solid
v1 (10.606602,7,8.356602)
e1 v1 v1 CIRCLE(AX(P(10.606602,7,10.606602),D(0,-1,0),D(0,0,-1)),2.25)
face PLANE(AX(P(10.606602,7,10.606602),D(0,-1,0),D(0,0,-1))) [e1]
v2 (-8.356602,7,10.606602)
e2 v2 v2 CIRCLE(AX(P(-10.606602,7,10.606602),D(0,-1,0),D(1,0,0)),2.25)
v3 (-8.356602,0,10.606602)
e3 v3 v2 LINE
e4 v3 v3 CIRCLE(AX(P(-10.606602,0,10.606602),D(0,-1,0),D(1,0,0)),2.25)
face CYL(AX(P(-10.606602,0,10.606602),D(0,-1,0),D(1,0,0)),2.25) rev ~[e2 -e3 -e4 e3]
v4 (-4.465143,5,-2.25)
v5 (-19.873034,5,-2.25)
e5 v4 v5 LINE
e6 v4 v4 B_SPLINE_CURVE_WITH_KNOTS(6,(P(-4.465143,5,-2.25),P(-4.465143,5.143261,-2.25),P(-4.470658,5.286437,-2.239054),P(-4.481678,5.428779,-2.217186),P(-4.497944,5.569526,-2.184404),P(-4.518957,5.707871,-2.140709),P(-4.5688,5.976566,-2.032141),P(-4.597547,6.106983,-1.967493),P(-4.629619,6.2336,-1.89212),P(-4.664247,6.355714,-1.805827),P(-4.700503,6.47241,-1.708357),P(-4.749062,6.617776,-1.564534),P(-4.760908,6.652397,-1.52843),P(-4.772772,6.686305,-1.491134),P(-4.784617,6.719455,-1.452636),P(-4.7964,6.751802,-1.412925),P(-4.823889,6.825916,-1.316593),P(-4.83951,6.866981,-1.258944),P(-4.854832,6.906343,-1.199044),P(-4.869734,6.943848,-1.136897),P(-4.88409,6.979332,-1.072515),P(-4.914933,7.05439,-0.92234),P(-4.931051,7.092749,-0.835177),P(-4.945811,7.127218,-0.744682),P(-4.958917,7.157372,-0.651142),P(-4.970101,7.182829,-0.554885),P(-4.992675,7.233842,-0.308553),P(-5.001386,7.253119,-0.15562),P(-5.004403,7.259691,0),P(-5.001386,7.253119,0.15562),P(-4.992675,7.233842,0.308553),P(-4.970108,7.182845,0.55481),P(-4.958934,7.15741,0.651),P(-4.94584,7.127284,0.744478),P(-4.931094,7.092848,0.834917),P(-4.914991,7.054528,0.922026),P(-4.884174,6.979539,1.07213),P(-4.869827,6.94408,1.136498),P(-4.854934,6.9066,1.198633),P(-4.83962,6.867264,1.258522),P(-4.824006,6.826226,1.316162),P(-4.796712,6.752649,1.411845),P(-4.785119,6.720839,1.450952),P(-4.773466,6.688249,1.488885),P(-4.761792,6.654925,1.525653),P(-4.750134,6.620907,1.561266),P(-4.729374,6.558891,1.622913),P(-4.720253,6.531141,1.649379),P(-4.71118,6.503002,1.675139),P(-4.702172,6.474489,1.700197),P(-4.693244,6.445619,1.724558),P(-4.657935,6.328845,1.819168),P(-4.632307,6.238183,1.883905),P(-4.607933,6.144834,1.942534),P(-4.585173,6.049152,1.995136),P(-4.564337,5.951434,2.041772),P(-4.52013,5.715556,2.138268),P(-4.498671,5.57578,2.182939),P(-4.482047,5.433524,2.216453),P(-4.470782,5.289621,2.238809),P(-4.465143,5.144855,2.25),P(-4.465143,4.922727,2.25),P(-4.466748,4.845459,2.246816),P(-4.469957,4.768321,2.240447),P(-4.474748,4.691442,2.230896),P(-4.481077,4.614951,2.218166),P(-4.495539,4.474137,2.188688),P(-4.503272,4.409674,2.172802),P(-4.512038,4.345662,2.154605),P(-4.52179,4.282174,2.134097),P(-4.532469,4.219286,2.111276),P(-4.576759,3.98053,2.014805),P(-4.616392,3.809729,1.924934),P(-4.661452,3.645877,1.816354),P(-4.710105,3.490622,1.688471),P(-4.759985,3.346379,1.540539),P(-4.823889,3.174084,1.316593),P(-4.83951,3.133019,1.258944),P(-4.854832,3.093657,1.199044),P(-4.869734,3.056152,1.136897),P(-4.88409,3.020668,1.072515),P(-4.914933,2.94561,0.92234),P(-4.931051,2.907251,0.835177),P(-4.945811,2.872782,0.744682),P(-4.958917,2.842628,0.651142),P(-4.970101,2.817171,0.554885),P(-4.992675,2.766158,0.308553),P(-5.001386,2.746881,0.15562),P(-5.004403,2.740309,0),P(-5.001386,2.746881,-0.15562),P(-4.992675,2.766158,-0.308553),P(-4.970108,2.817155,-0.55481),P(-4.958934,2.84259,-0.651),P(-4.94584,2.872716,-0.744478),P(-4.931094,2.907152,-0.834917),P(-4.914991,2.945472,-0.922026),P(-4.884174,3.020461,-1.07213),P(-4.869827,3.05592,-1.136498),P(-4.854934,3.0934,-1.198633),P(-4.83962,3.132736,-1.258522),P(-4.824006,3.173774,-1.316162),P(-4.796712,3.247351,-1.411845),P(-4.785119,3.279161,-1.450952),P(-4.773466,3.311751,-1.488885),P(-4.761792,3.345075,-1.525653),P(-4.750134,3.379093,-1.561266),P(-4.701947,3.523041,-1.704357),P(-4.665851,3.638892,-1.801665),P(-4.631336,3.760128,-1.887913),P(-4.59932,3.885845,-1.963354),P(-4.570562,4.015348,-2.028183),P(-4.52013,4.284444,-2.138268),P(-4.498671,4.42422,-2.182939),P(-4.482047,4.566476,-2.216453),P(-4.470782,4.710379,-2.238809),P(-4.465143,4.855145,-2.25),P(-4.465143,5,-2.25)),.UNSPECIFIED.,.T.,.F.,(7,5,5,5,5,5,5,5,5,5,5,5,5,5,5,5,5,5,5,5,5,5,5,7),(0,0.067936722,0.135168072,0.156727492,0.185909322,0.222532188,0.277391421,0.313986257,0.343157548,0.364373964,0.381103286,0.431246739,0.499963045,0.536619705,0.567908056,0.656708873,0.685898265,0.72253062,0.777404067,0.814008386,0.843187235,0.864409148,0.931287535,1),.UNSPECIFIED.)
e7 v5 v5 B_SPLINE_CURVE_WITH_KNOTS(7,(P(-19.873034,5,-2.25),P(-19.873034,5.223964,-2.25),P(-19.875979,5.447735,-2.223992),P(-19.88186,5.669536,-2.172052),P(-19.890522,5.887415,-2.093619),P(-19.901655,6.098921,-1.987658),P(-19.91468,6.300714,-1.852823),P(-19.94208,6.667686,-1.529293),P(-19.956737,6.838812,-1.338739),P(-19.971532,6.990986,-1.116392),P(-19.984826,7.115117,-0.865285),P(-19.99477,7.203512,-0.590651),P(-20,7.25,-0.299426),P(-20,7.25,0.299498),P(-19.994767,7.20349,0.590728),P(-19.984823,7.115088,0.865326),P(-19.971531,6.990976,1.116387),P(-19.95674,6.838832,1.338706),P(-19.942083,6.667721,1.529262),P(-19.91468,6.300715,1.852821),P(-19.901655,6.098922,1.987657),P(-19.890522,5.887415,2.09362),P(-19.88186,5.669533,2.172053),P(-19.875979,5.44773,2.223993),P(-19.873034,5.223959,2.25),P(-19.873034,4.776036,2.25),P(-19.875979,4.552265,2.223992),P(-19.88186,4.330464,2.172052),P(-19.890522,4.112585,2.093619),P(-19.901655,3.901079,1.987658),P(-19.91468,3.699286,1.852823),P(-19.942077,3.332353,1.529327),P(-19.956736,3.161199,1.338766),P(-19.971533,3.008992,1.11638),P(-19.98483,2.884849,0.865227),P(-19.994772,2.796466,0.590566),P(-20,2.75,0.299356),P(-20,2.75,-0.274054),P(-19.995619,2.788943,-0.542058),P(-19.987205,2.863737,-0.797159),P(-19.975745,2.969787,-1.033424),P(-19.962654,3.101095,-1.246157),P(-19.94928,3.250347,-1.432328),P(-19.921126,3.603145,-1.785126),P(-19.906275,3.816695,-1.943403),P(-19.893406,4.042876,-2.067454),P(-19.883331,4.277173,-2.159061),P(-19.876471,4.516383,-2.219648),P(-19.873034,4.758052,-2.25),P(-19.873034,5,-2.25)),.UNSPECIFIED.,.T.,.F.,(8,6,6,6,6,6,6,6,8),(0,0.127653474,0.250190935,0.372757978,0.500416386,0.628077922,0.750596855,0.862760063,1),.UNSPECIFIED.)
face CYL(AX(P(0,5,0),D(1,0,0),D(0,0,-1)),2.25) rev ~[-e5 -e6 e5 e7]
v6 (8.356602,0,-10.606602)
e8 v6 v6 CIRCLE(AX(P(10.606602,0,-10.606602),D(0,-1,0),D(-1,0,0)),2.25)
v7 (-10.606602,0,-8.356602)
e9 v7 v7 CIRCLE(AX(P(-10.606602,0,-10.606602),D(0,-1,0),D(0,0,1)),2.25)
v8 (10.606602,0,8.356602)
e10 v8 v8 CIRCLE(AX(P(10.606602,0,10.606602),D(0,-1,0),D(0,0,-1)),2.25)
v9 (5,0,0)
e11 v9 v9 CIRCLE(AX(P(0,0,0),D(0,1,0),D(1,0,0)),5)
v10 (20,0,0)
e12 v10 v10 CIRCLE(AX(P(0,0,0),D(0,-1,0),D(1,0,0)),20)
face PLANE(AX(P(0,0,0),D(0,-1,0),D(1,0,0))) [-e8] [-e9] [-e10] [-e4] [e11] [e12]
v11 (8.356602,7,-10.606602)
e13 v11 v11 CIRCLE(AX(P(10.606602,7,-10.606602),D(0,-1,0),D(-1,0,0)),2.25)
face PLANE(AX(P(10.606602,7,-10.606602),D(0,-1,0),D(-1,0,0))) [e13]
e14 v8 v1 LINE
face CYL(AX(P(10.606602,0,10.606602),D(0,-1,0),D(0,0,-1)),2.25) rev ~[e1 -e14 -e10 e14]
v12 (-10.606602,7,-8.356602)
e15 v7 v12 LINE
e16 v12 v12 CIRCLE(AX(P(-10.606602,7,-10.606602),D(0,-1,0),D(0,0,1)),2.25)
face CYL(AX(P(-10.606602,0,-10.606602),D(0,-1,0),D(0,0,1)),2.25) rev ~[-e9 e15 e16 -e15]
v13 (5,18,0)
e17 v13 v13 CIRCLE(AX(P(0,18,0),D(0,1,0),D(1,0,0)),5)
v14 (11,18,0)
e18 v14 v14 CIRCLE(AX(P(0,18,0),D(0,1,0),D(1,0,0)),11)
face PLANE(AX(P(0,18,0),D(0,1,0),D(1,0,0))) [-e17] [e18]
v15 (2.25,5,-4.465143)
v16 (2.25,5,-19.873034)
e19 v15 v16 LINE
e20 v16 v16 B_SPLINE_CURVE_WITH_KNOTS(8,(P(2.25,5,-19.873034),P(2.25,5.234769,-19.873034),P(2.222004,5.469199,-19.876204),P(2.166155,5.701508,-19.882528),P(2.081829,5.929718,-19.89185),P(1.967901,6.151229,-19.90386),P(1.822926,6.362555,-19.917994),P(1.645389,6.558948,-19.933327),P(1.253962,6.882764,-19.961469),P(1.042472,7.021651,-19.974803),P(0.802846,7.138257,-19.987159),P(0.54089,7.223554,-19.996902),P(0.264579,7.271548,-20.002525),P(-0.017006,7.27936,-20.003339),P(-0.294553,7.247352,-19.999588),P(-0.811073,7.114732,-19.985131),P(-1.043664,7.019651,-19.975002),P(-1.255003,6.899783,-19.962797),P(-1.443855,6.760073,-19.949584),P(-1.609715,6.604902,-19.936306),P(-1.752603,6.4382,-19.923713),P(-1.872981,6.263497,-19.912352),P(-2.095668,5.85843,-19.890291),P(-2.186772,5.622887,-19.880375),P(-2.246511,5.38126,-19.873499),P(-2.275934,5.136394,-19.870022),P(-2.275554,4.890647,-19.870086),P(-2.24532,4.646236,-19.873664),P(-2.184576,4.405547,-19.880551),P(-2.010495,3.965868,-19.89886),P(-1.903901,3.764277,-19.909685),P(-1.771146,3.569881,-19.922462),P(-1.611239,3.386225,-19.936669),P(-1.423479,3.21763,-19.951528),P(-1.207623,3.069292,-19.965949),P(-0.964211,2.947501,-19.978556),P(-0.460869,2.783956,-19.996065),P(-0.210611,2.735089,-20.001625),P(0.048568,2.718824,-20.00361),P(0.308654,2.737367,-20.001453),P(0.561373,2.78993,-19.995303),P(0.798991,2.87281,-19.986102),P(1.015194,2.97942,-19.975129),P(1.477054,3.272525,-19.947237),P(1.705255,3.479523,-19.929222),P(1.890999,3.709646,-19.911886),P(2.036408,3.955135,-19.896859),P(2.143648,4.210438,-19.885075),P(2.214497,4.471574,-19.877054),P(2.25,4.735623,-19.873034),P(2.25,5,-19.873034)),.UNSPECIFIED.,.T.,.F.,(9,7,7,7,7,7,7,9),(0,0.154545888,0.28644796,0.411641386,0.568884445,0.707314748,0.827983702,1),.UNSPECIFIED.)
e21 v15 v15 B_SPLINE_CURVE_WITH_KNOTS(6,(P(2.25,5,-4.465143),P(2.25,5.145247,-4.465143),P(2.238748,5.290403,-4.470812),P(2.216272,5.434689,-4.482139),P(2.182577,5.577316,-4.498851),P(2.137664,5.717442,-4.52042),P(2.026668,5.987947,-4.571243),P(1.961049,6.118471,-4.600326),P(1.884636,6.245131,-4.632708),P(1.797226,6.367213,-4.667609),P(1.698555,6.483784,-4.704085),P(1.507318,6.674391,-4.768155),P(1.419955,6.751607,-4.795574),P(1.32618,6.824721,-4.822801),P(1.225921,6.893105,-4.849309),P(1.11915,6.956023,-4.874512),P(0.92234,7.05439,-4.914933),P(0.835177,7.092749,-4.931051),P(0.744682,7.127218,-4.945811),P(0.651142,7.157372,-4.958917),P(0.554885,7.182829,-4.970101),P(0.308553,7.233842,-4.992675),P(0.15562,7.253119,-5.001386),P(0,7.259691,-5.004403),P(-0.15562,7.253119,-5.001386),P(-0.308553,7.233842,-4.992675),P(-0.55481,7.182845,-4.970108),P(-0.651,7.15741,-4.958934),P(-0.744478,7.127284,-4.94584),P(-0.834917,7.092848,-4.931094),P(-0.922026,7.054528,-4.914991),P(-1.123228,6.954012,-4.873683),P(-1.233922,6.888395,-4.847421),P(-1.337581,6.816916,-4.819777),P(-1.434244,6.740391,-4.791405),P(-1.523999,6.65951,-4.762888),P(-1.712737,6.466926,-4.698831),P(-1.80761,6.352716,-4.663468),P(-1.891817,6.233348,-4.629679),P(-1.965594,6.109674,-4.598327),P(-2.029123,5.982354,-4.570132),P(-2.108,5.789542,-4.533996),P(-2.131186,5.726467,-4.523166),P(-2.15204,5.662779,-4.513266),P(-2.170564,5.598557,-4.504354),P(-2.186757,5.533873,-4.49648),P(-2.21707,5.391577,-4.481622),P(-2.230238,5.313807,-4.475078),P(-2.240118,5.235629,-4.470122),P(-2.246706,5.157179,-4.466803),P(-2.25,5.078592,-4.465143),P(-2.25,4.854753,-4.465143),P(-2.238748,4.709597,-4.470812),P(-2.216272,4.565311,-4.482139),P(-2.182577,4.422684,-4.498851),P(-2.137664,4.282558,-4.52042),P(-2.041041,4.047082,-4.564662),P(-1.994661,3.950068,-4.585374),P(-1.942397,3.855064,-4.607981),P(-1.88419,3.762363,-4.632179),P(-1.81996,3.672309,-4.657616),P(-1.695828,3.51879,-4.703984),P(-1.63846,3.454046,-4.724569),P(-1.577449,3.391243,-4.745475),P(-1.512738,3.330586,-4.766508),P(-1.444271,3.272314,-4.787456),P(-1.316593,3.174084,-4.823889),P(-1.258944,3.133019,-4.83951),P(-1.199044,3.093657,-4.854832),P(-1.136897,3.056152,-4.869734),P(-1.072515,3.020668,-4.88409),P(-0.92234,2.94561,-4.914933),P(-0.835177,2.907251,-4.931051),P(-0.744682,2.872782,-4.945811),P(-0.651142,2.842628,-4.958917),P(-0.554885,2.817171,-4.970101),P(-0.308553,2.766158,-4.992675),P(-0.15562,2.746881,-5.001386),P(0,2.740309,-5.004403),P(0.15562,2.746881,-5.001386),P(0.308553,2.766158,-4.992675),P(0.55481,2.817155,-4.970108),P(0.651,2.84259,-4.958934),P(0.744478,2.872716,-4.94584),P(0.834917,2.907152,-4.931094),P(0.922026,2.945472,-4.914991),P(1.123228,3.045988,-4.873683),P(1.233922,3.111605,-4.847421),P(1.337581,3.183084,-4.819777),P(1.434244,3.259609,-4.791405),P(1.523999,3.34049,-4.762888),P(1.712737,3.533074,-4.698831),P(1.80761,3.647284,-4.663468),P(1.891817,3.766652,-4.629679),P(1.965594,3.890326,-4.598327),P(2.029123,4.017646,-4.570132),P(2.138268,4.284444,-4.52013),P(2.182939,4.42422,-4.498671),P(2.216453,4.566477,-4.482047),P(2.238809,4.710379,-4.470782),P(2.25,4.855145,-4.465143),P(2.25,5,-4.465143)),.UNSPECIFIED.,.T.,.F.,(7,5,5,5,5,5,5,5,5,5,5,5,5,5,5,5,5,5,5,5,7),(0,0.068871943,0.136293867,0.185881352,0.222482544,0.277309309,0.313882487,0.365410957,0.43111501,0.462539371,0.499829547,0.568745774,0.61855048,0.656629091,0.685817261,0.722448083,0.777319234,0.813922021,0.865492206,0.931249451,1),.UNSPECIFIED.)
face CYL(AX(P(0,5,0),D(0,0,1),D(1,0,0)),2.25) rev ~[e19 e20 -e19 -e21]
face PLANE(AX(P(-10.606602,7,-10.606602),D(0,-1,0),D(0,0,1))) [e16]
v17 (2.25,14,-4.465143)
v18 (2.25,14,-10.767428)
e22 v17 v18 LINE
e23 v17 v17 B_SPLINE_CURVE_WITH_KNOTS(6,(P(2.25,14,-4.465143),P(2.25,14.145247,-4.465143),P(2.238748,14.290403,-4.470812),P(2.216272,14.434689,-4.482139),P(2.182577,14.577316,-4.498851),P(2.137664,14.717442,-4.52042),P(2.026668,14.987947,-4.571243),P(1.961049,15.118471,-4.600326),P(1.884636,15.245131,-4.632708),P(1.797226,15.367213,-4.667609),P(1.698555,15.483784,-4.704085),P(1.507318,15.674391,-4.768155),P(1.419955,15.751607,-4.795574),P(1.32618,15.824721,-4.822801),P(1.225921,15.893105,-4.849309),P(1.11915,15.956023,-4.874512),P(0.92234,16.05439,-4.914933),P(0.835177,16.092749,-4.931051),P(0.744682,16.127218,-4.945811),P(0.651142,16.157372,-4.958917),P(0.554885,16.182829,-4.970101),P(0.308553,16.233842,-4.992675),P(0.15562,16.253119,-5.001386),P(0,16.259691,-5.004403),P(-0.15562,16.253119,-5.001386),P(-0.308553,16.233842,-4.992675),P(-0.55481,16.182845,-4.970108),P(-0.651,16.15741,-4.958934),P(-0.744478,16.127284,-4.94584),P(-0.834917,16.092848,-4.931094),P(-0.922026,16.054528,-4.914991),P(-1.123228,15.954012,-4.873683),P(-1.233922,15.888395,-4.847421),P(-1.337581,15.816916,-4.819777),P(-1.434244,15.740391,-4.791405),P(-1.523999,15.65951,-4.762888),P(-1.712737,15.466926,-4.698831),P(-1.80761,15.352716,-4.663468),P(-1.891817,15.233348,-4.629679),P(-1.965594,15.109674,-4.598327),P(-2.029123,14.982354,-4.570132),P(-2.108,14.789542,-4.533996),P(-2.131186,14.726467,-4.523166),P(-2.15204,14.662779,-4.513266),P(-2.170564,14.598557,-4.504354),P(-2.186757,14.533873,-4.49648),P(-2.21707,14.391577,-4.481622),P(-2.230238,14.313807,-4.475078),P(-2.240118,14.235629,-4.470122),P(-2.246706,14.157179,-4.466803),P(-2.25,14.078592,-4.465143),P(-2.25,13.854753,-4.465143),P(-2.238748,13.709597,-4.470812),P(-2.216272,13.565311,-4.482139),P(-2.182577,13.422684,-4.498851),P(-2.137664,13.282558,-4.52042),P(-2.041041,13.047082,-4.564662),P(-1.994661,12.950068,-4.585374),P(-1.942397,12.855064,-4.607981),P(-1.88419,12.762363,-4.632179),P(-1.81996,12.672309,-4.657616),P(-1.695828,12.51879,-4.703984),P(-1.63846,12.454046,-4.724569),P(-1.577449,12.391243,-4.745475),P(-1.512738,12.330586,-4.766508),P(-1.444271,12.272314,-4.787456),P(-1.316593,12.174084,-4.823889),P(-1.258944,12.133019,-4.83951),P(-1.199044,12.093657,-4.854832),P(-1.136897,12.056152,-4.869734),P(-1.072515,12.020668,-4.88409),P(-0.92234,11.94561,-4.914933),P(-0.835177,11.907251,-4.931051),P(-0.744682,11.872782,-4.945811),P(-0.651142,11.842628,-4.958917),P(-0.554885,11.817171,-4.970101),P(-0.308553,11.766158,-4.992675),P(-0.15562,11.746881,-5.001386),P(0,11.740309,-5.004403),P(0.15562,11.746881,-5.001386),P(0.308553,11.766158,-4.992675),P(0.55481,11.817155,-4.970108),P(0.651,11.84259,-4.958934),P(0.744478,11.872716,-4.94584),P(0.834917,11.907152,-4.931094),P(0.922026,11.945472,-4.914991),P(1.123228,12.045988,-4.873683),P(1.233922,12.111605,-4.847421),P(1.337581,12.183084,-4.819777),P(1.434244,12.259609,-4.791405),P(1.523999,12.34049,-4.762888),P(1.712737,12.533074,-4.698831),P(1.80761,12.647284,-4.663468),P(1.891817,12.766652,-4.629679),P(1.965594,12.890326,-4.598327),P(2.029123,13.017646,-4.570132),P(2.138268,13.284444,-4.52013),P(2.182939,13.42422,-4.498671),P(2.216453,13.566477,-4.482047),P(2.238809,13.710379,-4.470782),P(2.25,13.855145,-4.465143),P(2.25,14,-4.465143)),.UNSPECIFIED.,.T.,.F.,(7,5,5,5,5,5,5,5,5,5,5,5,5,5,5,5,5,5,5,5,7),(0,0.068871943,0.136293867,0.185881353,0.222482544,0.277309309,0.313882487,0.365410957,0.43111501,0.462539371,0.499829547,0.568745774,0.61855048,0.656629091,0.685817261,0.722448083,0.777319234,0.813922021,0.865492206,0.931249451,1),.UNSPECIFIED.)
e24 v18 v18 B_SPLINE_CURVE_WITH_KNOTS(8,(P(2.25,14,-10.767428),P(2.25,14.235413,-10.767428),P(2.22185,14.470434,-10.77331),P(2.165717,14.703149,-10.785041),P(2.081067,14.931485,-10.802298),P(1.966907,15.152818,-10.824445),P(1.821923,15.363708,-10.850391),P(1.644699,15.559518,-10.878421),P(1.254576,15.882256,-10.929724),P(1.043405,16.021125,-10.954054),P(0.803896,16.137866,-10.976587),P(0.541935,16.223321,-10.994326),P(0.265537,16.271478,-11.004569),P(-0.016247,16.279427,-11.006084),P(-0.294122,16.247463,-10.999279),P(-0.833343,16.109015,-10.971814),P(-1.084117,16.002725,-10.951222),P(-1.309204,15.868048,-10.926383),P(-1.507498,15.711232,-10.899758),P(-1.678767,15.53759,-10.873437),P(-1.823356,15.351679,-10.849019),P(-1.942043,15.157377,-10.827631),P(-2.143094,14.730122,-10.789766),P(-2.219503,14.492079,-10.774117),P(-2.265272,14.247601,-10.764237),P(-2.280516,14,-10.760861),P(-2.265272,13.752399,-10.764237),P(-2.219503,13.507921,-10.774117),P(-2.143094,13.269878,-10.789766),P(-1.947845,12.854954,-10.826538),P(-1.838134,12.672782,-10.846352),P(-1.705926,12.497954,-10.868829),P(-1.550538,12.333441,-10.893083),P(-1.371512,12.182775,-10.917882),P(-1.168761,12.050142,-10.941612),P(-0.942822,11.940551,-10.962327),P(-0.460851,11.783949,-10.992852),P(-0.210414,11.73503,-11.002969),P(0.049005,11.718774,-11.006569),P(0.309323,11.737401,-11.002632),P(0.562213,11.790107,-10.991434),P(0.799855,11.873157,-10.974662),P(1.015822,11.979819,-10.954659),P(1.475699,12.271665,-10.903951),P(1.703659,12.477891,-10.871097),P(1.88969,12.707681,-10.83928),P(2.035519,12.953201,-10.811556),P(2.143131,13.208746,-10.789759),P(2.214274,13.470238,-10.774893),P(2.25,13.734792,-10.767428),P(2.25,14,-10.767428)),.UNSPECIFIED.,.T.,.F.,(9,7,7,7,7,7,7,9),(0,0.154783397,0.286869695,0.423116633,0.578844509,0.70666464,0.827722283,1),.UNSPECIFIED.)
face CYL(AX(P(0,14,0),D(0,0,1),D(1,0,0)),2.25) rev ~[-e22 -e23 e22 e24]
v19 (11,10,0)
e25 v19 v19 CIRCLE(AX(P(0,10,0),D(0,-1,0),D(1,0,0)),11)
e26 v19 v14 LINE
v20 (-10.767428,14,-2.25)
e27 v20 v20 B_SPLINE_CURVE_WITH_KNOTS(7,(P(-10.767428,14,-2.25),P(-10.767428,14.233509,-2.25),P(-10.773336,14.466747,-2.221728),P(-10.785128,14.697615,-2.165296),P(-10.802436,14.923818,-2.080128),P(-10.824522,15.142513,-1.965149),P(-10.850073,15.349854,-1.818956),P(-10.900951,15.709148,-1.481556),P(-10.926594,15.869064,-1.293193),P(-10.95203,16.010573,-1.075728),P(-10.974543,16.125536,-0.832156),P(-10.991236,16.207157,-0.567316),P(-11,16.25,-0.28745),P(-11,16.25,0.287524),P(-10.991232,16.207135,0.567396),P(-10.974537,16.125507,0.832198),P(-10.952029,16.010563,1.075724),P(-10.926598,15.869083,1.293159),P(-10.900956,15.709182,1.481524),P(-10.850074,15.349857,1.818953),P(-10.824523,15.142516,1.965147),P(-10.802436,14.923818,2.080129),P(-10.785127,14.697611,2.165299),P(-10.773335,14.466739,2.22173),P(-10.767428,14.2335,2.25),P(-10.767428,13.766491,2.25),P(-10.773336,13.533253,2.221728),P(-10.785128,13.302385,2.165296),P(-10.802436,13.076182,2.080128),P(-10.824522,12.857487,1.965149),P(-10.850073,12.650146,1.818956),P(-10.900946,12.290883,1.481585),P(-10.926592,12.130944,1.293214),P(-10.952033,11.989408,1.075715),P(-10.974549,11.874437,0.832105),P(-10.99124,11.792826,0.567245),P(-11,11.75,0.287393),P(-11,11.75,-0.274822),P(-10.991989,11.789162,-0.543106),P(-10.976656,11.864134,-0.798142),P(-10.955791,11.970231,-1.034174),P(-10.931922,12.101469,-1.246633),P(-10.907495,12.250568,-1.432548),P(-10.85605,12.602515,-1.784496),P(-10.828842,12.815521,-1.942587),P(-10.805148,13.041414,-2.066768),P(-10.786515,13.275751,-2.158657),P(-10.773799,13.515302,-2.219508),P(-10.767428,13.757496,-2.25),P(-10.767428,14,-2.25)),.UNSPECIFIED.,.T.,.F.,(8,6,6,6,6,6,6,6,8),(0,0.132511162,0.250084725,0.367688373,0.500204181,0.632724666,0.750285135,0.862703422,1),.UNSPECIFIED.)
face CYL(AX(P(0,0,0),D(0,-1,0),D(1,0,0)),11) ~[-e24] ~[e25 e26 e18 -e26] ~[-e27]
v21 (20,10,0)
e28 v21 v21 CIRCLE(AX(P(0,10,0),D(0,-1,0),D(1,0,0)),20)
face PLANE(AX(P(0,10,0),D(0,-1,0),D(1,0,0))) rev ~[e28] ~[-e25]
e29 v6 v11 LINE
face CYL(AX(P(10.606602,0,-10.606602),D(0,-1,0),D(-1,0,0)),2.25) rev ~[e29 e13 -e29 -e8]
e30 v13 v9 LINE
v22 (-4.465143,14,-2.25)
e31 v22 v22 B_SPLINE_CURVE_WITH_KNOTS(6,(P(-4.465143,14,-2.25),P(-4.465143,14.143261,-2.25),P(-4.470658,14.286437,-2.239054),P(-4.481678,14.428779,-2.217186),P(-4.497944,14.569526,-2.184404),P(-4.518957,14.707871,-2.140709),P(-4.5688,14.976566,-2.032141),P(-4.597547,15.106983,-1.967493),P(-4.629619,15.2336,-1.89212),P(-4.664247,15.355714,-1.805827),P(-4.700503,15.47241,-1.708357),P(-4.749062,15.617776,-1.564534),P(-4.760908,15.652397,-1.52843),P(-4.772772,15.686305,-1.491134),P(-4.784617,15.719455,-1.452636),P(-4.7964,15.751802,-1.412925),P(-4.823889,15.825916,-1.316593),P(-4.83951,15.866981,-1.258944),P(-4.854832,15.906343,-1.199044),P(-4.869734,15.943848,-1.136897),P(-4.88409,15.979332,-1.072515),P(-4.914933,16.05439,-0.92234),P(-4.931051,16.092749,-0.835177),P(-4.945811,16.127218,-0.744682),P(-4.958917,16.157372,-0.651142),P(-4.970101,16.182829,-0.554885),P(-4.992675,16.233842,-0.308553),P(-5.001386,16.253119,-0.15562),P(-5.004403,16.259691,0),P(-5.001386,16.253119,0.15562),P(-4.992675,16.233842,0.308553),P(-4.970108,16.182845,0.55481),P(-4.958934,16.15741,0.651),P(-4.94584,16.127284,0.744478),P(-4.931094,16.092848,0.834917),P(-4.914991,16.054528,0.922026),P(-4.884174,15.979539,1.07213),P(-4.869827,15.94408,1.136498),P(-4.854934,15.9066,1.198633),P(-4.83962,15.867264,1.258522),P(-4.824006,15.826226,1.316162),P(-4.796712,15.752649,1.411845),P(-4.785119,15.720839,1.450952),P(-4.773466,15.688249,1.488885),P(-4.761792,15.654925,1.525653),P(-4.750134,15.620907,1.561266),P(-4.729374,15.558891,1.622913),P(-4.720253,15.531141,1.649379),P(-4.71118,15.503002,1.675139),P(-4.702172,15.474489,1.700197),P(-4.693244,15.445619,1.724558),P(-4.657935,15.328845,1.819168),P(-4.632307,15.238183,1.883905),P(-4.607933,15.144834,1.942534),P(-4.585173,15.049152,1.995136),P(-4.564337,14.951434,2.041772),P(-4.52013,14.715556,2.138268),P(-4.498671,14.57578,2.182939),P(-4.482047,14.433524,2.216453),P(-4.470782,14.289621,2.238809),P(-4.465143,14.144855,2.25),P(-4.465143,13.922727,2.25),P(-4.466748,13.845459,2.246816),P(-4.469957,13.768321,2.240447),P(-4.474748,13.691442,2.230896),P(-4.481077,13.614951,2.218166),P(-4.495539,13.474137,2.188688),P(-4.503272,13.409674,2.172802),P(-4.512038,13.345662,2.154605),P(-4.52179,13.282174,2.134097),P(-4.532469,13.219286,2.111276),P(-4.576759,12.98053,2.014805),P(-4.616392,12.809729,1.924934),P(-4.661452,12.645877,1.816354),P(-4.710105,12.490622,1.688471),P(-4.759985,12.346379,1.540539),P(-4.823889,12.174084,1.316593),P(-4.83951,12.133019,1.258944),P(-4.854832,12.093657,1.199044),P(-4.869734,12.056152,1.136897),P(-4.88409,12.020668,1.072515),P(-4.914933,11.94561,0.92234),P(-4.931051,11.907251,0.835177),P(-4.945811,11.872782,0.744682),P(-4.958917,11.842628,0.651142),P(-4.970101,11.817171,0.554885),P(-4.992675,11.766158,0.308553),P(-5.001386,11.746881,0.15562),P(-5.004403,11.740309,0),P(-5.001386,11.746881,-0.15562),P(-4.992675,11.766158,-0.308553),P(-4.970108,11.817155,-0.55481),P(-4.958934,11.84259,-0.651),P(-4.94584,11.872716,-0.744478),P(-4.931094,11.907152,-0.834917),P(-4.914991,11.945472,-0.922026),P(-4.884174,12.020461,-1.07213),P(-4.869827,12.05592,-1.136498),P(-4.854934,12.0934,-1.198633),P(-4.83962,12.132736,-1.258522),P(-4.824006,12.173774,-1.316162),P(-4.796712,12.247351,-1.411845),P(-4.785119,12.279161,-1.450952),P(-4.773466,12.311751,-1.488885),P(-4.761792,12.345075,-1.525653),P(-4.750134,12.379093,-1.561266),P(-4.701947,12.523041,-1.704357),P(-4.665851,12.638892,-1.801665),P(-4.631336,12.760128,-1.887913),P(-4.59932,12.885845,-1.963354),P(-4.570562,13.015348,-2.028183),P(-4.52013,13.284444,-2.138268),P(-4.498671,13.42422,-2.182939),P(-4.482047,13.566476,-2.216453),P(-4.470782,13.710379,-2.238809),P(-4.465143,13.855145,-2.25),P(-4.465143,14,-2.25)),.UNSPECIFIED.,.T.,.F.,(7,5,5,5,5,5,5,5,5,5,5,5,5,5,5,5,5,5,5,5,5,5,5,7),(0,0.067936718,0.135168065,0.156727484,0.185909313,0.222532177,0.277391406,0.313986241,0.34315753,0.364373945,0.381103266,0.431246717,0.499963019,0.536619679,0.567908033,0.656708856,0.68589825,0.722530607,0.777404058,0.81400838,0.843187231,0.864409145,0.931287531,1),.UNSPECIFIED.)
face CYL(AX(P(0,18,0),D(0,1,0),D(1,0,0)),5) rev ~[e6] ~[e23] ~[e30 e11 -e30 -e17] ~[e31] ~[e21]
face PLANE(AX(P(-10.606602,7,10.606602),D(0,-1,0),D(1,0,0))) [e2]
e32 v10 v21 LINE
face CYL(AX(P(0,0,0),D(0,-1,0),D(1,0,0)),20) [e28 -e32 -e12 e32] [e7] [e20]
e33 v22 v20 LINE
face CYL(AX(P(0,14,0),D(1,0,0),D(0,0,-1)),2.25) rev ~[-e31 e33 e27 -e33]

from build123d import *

# Parameters (mm, degrees)
SKETCH1_R               = 11
BOSS_EXTRUDE1_DEPTH     = 18
SKETCH2_R               = 20
BOSS_EXTRUDE2_DEPTH     = 10
SKETCH3_R               = 5
CUT_EXTRUDE1_DEPTH      = 1
CUT_EXTRUDE1_DEPTH_BACK = 19
SKETCH4_R               = 2.25
CUT_EXTRUDE2_DEPTH      = 7
CIRPATTERN1_COUNT       = 4
SKETCH5_R               = 2.25
CUT_EXTRUDE3_DEPTH      = 21
CIRPATTERN2_COUNT       = 2
CIRPATTERN2_ANGLE       = 90


with BuildPart() as part:
    # Sketch1 → Boss-Extrude1 (new body)
    with BuildSketch(Plane(origin=(0, 0, 0), x_dir=(1, 0, 0), z_dir=(0, 1, 0))):
        Circle(SKETCH1_R)
    extrude(amount=BOSS_EXTRUDE1_DEPTH)

    # Sketch2 → Boss-Extrude2 (add)
    with BuildSketch(Plane.XZ):
        Circle(SKETCH2_R)
    extrude(amount=-BOSS_EXTRUDE2_DEPTH)

    # Sketch3 → Cut-Extrude1 (cut, two sides)
    with BuildSketch(Plane(origin=(0, 18, 0), x_dir=(1, 0, 0), z_dir=(0, 1, 0))) as cut_extrude1_sk:
        Circle(SKETCH3_R)
    extrude(amount=CUT_EXTRUDE1_DEPTH, mode=Mode.SUBTRACT)
    extrude(cut_extrude1_sk.sketch, amount=-CUT_EXTRUDE1_DEPTH_BACK, mode=Mode.SUBTRACT)

    # Sketch4 → Cut-Extrude2 (cut)
    with BuildSketch(Plane.XZ):
        with Locations((-10.606601718, 10.606601718)):
            Circle(SKETCH4_R)
    cut_extrude2 = extrude(amount=-CUT_EXTRUDE2_DEPTH, mode=Mode.SUBTRACT)

    # CirPattern1: Cut-Extrude2 ×4 about axis
    cirpattern1_axis = Axis((0, 0, 0), (0, 1, 0))
    for i in range(1, CIRPATTERN1_COUNT):
        add(cut_extrude2.rotate(cirpattern1_axis, i * 360 / CIRPATTERN1_COUNT), mode=Mode.SUBTRACT)

    # Sketch5 → Cut-Extrude3 (cut, through all)
    with BuildSketch(Plane.XY):
        with Locations((0, 14)):
            Circle(SKETCH5_R)
        with Locations((0, 5)):
            Circle(SKETCH5_R)
    cut_extrude3 = extrude(amount=-CUT_EXTRUDE3_DEPTH, mode=Mode.SUBTRACT)

    # CirPattern2: Cut-Extrude3 ×2 about axis
    cirpattern2_axis = Axis((0, 18, 0), (0, 1, 0))
    for i in range(1, CIRPATTERN2_COUNT):
        add(cut_extrude3.rotate(cirpattern2_axis, i * CIRPATTERN2_ANGLE / (CIRPATTERN2_COUNT - 1)), mode=Mode.SUBTRACT)


solid = part.part
